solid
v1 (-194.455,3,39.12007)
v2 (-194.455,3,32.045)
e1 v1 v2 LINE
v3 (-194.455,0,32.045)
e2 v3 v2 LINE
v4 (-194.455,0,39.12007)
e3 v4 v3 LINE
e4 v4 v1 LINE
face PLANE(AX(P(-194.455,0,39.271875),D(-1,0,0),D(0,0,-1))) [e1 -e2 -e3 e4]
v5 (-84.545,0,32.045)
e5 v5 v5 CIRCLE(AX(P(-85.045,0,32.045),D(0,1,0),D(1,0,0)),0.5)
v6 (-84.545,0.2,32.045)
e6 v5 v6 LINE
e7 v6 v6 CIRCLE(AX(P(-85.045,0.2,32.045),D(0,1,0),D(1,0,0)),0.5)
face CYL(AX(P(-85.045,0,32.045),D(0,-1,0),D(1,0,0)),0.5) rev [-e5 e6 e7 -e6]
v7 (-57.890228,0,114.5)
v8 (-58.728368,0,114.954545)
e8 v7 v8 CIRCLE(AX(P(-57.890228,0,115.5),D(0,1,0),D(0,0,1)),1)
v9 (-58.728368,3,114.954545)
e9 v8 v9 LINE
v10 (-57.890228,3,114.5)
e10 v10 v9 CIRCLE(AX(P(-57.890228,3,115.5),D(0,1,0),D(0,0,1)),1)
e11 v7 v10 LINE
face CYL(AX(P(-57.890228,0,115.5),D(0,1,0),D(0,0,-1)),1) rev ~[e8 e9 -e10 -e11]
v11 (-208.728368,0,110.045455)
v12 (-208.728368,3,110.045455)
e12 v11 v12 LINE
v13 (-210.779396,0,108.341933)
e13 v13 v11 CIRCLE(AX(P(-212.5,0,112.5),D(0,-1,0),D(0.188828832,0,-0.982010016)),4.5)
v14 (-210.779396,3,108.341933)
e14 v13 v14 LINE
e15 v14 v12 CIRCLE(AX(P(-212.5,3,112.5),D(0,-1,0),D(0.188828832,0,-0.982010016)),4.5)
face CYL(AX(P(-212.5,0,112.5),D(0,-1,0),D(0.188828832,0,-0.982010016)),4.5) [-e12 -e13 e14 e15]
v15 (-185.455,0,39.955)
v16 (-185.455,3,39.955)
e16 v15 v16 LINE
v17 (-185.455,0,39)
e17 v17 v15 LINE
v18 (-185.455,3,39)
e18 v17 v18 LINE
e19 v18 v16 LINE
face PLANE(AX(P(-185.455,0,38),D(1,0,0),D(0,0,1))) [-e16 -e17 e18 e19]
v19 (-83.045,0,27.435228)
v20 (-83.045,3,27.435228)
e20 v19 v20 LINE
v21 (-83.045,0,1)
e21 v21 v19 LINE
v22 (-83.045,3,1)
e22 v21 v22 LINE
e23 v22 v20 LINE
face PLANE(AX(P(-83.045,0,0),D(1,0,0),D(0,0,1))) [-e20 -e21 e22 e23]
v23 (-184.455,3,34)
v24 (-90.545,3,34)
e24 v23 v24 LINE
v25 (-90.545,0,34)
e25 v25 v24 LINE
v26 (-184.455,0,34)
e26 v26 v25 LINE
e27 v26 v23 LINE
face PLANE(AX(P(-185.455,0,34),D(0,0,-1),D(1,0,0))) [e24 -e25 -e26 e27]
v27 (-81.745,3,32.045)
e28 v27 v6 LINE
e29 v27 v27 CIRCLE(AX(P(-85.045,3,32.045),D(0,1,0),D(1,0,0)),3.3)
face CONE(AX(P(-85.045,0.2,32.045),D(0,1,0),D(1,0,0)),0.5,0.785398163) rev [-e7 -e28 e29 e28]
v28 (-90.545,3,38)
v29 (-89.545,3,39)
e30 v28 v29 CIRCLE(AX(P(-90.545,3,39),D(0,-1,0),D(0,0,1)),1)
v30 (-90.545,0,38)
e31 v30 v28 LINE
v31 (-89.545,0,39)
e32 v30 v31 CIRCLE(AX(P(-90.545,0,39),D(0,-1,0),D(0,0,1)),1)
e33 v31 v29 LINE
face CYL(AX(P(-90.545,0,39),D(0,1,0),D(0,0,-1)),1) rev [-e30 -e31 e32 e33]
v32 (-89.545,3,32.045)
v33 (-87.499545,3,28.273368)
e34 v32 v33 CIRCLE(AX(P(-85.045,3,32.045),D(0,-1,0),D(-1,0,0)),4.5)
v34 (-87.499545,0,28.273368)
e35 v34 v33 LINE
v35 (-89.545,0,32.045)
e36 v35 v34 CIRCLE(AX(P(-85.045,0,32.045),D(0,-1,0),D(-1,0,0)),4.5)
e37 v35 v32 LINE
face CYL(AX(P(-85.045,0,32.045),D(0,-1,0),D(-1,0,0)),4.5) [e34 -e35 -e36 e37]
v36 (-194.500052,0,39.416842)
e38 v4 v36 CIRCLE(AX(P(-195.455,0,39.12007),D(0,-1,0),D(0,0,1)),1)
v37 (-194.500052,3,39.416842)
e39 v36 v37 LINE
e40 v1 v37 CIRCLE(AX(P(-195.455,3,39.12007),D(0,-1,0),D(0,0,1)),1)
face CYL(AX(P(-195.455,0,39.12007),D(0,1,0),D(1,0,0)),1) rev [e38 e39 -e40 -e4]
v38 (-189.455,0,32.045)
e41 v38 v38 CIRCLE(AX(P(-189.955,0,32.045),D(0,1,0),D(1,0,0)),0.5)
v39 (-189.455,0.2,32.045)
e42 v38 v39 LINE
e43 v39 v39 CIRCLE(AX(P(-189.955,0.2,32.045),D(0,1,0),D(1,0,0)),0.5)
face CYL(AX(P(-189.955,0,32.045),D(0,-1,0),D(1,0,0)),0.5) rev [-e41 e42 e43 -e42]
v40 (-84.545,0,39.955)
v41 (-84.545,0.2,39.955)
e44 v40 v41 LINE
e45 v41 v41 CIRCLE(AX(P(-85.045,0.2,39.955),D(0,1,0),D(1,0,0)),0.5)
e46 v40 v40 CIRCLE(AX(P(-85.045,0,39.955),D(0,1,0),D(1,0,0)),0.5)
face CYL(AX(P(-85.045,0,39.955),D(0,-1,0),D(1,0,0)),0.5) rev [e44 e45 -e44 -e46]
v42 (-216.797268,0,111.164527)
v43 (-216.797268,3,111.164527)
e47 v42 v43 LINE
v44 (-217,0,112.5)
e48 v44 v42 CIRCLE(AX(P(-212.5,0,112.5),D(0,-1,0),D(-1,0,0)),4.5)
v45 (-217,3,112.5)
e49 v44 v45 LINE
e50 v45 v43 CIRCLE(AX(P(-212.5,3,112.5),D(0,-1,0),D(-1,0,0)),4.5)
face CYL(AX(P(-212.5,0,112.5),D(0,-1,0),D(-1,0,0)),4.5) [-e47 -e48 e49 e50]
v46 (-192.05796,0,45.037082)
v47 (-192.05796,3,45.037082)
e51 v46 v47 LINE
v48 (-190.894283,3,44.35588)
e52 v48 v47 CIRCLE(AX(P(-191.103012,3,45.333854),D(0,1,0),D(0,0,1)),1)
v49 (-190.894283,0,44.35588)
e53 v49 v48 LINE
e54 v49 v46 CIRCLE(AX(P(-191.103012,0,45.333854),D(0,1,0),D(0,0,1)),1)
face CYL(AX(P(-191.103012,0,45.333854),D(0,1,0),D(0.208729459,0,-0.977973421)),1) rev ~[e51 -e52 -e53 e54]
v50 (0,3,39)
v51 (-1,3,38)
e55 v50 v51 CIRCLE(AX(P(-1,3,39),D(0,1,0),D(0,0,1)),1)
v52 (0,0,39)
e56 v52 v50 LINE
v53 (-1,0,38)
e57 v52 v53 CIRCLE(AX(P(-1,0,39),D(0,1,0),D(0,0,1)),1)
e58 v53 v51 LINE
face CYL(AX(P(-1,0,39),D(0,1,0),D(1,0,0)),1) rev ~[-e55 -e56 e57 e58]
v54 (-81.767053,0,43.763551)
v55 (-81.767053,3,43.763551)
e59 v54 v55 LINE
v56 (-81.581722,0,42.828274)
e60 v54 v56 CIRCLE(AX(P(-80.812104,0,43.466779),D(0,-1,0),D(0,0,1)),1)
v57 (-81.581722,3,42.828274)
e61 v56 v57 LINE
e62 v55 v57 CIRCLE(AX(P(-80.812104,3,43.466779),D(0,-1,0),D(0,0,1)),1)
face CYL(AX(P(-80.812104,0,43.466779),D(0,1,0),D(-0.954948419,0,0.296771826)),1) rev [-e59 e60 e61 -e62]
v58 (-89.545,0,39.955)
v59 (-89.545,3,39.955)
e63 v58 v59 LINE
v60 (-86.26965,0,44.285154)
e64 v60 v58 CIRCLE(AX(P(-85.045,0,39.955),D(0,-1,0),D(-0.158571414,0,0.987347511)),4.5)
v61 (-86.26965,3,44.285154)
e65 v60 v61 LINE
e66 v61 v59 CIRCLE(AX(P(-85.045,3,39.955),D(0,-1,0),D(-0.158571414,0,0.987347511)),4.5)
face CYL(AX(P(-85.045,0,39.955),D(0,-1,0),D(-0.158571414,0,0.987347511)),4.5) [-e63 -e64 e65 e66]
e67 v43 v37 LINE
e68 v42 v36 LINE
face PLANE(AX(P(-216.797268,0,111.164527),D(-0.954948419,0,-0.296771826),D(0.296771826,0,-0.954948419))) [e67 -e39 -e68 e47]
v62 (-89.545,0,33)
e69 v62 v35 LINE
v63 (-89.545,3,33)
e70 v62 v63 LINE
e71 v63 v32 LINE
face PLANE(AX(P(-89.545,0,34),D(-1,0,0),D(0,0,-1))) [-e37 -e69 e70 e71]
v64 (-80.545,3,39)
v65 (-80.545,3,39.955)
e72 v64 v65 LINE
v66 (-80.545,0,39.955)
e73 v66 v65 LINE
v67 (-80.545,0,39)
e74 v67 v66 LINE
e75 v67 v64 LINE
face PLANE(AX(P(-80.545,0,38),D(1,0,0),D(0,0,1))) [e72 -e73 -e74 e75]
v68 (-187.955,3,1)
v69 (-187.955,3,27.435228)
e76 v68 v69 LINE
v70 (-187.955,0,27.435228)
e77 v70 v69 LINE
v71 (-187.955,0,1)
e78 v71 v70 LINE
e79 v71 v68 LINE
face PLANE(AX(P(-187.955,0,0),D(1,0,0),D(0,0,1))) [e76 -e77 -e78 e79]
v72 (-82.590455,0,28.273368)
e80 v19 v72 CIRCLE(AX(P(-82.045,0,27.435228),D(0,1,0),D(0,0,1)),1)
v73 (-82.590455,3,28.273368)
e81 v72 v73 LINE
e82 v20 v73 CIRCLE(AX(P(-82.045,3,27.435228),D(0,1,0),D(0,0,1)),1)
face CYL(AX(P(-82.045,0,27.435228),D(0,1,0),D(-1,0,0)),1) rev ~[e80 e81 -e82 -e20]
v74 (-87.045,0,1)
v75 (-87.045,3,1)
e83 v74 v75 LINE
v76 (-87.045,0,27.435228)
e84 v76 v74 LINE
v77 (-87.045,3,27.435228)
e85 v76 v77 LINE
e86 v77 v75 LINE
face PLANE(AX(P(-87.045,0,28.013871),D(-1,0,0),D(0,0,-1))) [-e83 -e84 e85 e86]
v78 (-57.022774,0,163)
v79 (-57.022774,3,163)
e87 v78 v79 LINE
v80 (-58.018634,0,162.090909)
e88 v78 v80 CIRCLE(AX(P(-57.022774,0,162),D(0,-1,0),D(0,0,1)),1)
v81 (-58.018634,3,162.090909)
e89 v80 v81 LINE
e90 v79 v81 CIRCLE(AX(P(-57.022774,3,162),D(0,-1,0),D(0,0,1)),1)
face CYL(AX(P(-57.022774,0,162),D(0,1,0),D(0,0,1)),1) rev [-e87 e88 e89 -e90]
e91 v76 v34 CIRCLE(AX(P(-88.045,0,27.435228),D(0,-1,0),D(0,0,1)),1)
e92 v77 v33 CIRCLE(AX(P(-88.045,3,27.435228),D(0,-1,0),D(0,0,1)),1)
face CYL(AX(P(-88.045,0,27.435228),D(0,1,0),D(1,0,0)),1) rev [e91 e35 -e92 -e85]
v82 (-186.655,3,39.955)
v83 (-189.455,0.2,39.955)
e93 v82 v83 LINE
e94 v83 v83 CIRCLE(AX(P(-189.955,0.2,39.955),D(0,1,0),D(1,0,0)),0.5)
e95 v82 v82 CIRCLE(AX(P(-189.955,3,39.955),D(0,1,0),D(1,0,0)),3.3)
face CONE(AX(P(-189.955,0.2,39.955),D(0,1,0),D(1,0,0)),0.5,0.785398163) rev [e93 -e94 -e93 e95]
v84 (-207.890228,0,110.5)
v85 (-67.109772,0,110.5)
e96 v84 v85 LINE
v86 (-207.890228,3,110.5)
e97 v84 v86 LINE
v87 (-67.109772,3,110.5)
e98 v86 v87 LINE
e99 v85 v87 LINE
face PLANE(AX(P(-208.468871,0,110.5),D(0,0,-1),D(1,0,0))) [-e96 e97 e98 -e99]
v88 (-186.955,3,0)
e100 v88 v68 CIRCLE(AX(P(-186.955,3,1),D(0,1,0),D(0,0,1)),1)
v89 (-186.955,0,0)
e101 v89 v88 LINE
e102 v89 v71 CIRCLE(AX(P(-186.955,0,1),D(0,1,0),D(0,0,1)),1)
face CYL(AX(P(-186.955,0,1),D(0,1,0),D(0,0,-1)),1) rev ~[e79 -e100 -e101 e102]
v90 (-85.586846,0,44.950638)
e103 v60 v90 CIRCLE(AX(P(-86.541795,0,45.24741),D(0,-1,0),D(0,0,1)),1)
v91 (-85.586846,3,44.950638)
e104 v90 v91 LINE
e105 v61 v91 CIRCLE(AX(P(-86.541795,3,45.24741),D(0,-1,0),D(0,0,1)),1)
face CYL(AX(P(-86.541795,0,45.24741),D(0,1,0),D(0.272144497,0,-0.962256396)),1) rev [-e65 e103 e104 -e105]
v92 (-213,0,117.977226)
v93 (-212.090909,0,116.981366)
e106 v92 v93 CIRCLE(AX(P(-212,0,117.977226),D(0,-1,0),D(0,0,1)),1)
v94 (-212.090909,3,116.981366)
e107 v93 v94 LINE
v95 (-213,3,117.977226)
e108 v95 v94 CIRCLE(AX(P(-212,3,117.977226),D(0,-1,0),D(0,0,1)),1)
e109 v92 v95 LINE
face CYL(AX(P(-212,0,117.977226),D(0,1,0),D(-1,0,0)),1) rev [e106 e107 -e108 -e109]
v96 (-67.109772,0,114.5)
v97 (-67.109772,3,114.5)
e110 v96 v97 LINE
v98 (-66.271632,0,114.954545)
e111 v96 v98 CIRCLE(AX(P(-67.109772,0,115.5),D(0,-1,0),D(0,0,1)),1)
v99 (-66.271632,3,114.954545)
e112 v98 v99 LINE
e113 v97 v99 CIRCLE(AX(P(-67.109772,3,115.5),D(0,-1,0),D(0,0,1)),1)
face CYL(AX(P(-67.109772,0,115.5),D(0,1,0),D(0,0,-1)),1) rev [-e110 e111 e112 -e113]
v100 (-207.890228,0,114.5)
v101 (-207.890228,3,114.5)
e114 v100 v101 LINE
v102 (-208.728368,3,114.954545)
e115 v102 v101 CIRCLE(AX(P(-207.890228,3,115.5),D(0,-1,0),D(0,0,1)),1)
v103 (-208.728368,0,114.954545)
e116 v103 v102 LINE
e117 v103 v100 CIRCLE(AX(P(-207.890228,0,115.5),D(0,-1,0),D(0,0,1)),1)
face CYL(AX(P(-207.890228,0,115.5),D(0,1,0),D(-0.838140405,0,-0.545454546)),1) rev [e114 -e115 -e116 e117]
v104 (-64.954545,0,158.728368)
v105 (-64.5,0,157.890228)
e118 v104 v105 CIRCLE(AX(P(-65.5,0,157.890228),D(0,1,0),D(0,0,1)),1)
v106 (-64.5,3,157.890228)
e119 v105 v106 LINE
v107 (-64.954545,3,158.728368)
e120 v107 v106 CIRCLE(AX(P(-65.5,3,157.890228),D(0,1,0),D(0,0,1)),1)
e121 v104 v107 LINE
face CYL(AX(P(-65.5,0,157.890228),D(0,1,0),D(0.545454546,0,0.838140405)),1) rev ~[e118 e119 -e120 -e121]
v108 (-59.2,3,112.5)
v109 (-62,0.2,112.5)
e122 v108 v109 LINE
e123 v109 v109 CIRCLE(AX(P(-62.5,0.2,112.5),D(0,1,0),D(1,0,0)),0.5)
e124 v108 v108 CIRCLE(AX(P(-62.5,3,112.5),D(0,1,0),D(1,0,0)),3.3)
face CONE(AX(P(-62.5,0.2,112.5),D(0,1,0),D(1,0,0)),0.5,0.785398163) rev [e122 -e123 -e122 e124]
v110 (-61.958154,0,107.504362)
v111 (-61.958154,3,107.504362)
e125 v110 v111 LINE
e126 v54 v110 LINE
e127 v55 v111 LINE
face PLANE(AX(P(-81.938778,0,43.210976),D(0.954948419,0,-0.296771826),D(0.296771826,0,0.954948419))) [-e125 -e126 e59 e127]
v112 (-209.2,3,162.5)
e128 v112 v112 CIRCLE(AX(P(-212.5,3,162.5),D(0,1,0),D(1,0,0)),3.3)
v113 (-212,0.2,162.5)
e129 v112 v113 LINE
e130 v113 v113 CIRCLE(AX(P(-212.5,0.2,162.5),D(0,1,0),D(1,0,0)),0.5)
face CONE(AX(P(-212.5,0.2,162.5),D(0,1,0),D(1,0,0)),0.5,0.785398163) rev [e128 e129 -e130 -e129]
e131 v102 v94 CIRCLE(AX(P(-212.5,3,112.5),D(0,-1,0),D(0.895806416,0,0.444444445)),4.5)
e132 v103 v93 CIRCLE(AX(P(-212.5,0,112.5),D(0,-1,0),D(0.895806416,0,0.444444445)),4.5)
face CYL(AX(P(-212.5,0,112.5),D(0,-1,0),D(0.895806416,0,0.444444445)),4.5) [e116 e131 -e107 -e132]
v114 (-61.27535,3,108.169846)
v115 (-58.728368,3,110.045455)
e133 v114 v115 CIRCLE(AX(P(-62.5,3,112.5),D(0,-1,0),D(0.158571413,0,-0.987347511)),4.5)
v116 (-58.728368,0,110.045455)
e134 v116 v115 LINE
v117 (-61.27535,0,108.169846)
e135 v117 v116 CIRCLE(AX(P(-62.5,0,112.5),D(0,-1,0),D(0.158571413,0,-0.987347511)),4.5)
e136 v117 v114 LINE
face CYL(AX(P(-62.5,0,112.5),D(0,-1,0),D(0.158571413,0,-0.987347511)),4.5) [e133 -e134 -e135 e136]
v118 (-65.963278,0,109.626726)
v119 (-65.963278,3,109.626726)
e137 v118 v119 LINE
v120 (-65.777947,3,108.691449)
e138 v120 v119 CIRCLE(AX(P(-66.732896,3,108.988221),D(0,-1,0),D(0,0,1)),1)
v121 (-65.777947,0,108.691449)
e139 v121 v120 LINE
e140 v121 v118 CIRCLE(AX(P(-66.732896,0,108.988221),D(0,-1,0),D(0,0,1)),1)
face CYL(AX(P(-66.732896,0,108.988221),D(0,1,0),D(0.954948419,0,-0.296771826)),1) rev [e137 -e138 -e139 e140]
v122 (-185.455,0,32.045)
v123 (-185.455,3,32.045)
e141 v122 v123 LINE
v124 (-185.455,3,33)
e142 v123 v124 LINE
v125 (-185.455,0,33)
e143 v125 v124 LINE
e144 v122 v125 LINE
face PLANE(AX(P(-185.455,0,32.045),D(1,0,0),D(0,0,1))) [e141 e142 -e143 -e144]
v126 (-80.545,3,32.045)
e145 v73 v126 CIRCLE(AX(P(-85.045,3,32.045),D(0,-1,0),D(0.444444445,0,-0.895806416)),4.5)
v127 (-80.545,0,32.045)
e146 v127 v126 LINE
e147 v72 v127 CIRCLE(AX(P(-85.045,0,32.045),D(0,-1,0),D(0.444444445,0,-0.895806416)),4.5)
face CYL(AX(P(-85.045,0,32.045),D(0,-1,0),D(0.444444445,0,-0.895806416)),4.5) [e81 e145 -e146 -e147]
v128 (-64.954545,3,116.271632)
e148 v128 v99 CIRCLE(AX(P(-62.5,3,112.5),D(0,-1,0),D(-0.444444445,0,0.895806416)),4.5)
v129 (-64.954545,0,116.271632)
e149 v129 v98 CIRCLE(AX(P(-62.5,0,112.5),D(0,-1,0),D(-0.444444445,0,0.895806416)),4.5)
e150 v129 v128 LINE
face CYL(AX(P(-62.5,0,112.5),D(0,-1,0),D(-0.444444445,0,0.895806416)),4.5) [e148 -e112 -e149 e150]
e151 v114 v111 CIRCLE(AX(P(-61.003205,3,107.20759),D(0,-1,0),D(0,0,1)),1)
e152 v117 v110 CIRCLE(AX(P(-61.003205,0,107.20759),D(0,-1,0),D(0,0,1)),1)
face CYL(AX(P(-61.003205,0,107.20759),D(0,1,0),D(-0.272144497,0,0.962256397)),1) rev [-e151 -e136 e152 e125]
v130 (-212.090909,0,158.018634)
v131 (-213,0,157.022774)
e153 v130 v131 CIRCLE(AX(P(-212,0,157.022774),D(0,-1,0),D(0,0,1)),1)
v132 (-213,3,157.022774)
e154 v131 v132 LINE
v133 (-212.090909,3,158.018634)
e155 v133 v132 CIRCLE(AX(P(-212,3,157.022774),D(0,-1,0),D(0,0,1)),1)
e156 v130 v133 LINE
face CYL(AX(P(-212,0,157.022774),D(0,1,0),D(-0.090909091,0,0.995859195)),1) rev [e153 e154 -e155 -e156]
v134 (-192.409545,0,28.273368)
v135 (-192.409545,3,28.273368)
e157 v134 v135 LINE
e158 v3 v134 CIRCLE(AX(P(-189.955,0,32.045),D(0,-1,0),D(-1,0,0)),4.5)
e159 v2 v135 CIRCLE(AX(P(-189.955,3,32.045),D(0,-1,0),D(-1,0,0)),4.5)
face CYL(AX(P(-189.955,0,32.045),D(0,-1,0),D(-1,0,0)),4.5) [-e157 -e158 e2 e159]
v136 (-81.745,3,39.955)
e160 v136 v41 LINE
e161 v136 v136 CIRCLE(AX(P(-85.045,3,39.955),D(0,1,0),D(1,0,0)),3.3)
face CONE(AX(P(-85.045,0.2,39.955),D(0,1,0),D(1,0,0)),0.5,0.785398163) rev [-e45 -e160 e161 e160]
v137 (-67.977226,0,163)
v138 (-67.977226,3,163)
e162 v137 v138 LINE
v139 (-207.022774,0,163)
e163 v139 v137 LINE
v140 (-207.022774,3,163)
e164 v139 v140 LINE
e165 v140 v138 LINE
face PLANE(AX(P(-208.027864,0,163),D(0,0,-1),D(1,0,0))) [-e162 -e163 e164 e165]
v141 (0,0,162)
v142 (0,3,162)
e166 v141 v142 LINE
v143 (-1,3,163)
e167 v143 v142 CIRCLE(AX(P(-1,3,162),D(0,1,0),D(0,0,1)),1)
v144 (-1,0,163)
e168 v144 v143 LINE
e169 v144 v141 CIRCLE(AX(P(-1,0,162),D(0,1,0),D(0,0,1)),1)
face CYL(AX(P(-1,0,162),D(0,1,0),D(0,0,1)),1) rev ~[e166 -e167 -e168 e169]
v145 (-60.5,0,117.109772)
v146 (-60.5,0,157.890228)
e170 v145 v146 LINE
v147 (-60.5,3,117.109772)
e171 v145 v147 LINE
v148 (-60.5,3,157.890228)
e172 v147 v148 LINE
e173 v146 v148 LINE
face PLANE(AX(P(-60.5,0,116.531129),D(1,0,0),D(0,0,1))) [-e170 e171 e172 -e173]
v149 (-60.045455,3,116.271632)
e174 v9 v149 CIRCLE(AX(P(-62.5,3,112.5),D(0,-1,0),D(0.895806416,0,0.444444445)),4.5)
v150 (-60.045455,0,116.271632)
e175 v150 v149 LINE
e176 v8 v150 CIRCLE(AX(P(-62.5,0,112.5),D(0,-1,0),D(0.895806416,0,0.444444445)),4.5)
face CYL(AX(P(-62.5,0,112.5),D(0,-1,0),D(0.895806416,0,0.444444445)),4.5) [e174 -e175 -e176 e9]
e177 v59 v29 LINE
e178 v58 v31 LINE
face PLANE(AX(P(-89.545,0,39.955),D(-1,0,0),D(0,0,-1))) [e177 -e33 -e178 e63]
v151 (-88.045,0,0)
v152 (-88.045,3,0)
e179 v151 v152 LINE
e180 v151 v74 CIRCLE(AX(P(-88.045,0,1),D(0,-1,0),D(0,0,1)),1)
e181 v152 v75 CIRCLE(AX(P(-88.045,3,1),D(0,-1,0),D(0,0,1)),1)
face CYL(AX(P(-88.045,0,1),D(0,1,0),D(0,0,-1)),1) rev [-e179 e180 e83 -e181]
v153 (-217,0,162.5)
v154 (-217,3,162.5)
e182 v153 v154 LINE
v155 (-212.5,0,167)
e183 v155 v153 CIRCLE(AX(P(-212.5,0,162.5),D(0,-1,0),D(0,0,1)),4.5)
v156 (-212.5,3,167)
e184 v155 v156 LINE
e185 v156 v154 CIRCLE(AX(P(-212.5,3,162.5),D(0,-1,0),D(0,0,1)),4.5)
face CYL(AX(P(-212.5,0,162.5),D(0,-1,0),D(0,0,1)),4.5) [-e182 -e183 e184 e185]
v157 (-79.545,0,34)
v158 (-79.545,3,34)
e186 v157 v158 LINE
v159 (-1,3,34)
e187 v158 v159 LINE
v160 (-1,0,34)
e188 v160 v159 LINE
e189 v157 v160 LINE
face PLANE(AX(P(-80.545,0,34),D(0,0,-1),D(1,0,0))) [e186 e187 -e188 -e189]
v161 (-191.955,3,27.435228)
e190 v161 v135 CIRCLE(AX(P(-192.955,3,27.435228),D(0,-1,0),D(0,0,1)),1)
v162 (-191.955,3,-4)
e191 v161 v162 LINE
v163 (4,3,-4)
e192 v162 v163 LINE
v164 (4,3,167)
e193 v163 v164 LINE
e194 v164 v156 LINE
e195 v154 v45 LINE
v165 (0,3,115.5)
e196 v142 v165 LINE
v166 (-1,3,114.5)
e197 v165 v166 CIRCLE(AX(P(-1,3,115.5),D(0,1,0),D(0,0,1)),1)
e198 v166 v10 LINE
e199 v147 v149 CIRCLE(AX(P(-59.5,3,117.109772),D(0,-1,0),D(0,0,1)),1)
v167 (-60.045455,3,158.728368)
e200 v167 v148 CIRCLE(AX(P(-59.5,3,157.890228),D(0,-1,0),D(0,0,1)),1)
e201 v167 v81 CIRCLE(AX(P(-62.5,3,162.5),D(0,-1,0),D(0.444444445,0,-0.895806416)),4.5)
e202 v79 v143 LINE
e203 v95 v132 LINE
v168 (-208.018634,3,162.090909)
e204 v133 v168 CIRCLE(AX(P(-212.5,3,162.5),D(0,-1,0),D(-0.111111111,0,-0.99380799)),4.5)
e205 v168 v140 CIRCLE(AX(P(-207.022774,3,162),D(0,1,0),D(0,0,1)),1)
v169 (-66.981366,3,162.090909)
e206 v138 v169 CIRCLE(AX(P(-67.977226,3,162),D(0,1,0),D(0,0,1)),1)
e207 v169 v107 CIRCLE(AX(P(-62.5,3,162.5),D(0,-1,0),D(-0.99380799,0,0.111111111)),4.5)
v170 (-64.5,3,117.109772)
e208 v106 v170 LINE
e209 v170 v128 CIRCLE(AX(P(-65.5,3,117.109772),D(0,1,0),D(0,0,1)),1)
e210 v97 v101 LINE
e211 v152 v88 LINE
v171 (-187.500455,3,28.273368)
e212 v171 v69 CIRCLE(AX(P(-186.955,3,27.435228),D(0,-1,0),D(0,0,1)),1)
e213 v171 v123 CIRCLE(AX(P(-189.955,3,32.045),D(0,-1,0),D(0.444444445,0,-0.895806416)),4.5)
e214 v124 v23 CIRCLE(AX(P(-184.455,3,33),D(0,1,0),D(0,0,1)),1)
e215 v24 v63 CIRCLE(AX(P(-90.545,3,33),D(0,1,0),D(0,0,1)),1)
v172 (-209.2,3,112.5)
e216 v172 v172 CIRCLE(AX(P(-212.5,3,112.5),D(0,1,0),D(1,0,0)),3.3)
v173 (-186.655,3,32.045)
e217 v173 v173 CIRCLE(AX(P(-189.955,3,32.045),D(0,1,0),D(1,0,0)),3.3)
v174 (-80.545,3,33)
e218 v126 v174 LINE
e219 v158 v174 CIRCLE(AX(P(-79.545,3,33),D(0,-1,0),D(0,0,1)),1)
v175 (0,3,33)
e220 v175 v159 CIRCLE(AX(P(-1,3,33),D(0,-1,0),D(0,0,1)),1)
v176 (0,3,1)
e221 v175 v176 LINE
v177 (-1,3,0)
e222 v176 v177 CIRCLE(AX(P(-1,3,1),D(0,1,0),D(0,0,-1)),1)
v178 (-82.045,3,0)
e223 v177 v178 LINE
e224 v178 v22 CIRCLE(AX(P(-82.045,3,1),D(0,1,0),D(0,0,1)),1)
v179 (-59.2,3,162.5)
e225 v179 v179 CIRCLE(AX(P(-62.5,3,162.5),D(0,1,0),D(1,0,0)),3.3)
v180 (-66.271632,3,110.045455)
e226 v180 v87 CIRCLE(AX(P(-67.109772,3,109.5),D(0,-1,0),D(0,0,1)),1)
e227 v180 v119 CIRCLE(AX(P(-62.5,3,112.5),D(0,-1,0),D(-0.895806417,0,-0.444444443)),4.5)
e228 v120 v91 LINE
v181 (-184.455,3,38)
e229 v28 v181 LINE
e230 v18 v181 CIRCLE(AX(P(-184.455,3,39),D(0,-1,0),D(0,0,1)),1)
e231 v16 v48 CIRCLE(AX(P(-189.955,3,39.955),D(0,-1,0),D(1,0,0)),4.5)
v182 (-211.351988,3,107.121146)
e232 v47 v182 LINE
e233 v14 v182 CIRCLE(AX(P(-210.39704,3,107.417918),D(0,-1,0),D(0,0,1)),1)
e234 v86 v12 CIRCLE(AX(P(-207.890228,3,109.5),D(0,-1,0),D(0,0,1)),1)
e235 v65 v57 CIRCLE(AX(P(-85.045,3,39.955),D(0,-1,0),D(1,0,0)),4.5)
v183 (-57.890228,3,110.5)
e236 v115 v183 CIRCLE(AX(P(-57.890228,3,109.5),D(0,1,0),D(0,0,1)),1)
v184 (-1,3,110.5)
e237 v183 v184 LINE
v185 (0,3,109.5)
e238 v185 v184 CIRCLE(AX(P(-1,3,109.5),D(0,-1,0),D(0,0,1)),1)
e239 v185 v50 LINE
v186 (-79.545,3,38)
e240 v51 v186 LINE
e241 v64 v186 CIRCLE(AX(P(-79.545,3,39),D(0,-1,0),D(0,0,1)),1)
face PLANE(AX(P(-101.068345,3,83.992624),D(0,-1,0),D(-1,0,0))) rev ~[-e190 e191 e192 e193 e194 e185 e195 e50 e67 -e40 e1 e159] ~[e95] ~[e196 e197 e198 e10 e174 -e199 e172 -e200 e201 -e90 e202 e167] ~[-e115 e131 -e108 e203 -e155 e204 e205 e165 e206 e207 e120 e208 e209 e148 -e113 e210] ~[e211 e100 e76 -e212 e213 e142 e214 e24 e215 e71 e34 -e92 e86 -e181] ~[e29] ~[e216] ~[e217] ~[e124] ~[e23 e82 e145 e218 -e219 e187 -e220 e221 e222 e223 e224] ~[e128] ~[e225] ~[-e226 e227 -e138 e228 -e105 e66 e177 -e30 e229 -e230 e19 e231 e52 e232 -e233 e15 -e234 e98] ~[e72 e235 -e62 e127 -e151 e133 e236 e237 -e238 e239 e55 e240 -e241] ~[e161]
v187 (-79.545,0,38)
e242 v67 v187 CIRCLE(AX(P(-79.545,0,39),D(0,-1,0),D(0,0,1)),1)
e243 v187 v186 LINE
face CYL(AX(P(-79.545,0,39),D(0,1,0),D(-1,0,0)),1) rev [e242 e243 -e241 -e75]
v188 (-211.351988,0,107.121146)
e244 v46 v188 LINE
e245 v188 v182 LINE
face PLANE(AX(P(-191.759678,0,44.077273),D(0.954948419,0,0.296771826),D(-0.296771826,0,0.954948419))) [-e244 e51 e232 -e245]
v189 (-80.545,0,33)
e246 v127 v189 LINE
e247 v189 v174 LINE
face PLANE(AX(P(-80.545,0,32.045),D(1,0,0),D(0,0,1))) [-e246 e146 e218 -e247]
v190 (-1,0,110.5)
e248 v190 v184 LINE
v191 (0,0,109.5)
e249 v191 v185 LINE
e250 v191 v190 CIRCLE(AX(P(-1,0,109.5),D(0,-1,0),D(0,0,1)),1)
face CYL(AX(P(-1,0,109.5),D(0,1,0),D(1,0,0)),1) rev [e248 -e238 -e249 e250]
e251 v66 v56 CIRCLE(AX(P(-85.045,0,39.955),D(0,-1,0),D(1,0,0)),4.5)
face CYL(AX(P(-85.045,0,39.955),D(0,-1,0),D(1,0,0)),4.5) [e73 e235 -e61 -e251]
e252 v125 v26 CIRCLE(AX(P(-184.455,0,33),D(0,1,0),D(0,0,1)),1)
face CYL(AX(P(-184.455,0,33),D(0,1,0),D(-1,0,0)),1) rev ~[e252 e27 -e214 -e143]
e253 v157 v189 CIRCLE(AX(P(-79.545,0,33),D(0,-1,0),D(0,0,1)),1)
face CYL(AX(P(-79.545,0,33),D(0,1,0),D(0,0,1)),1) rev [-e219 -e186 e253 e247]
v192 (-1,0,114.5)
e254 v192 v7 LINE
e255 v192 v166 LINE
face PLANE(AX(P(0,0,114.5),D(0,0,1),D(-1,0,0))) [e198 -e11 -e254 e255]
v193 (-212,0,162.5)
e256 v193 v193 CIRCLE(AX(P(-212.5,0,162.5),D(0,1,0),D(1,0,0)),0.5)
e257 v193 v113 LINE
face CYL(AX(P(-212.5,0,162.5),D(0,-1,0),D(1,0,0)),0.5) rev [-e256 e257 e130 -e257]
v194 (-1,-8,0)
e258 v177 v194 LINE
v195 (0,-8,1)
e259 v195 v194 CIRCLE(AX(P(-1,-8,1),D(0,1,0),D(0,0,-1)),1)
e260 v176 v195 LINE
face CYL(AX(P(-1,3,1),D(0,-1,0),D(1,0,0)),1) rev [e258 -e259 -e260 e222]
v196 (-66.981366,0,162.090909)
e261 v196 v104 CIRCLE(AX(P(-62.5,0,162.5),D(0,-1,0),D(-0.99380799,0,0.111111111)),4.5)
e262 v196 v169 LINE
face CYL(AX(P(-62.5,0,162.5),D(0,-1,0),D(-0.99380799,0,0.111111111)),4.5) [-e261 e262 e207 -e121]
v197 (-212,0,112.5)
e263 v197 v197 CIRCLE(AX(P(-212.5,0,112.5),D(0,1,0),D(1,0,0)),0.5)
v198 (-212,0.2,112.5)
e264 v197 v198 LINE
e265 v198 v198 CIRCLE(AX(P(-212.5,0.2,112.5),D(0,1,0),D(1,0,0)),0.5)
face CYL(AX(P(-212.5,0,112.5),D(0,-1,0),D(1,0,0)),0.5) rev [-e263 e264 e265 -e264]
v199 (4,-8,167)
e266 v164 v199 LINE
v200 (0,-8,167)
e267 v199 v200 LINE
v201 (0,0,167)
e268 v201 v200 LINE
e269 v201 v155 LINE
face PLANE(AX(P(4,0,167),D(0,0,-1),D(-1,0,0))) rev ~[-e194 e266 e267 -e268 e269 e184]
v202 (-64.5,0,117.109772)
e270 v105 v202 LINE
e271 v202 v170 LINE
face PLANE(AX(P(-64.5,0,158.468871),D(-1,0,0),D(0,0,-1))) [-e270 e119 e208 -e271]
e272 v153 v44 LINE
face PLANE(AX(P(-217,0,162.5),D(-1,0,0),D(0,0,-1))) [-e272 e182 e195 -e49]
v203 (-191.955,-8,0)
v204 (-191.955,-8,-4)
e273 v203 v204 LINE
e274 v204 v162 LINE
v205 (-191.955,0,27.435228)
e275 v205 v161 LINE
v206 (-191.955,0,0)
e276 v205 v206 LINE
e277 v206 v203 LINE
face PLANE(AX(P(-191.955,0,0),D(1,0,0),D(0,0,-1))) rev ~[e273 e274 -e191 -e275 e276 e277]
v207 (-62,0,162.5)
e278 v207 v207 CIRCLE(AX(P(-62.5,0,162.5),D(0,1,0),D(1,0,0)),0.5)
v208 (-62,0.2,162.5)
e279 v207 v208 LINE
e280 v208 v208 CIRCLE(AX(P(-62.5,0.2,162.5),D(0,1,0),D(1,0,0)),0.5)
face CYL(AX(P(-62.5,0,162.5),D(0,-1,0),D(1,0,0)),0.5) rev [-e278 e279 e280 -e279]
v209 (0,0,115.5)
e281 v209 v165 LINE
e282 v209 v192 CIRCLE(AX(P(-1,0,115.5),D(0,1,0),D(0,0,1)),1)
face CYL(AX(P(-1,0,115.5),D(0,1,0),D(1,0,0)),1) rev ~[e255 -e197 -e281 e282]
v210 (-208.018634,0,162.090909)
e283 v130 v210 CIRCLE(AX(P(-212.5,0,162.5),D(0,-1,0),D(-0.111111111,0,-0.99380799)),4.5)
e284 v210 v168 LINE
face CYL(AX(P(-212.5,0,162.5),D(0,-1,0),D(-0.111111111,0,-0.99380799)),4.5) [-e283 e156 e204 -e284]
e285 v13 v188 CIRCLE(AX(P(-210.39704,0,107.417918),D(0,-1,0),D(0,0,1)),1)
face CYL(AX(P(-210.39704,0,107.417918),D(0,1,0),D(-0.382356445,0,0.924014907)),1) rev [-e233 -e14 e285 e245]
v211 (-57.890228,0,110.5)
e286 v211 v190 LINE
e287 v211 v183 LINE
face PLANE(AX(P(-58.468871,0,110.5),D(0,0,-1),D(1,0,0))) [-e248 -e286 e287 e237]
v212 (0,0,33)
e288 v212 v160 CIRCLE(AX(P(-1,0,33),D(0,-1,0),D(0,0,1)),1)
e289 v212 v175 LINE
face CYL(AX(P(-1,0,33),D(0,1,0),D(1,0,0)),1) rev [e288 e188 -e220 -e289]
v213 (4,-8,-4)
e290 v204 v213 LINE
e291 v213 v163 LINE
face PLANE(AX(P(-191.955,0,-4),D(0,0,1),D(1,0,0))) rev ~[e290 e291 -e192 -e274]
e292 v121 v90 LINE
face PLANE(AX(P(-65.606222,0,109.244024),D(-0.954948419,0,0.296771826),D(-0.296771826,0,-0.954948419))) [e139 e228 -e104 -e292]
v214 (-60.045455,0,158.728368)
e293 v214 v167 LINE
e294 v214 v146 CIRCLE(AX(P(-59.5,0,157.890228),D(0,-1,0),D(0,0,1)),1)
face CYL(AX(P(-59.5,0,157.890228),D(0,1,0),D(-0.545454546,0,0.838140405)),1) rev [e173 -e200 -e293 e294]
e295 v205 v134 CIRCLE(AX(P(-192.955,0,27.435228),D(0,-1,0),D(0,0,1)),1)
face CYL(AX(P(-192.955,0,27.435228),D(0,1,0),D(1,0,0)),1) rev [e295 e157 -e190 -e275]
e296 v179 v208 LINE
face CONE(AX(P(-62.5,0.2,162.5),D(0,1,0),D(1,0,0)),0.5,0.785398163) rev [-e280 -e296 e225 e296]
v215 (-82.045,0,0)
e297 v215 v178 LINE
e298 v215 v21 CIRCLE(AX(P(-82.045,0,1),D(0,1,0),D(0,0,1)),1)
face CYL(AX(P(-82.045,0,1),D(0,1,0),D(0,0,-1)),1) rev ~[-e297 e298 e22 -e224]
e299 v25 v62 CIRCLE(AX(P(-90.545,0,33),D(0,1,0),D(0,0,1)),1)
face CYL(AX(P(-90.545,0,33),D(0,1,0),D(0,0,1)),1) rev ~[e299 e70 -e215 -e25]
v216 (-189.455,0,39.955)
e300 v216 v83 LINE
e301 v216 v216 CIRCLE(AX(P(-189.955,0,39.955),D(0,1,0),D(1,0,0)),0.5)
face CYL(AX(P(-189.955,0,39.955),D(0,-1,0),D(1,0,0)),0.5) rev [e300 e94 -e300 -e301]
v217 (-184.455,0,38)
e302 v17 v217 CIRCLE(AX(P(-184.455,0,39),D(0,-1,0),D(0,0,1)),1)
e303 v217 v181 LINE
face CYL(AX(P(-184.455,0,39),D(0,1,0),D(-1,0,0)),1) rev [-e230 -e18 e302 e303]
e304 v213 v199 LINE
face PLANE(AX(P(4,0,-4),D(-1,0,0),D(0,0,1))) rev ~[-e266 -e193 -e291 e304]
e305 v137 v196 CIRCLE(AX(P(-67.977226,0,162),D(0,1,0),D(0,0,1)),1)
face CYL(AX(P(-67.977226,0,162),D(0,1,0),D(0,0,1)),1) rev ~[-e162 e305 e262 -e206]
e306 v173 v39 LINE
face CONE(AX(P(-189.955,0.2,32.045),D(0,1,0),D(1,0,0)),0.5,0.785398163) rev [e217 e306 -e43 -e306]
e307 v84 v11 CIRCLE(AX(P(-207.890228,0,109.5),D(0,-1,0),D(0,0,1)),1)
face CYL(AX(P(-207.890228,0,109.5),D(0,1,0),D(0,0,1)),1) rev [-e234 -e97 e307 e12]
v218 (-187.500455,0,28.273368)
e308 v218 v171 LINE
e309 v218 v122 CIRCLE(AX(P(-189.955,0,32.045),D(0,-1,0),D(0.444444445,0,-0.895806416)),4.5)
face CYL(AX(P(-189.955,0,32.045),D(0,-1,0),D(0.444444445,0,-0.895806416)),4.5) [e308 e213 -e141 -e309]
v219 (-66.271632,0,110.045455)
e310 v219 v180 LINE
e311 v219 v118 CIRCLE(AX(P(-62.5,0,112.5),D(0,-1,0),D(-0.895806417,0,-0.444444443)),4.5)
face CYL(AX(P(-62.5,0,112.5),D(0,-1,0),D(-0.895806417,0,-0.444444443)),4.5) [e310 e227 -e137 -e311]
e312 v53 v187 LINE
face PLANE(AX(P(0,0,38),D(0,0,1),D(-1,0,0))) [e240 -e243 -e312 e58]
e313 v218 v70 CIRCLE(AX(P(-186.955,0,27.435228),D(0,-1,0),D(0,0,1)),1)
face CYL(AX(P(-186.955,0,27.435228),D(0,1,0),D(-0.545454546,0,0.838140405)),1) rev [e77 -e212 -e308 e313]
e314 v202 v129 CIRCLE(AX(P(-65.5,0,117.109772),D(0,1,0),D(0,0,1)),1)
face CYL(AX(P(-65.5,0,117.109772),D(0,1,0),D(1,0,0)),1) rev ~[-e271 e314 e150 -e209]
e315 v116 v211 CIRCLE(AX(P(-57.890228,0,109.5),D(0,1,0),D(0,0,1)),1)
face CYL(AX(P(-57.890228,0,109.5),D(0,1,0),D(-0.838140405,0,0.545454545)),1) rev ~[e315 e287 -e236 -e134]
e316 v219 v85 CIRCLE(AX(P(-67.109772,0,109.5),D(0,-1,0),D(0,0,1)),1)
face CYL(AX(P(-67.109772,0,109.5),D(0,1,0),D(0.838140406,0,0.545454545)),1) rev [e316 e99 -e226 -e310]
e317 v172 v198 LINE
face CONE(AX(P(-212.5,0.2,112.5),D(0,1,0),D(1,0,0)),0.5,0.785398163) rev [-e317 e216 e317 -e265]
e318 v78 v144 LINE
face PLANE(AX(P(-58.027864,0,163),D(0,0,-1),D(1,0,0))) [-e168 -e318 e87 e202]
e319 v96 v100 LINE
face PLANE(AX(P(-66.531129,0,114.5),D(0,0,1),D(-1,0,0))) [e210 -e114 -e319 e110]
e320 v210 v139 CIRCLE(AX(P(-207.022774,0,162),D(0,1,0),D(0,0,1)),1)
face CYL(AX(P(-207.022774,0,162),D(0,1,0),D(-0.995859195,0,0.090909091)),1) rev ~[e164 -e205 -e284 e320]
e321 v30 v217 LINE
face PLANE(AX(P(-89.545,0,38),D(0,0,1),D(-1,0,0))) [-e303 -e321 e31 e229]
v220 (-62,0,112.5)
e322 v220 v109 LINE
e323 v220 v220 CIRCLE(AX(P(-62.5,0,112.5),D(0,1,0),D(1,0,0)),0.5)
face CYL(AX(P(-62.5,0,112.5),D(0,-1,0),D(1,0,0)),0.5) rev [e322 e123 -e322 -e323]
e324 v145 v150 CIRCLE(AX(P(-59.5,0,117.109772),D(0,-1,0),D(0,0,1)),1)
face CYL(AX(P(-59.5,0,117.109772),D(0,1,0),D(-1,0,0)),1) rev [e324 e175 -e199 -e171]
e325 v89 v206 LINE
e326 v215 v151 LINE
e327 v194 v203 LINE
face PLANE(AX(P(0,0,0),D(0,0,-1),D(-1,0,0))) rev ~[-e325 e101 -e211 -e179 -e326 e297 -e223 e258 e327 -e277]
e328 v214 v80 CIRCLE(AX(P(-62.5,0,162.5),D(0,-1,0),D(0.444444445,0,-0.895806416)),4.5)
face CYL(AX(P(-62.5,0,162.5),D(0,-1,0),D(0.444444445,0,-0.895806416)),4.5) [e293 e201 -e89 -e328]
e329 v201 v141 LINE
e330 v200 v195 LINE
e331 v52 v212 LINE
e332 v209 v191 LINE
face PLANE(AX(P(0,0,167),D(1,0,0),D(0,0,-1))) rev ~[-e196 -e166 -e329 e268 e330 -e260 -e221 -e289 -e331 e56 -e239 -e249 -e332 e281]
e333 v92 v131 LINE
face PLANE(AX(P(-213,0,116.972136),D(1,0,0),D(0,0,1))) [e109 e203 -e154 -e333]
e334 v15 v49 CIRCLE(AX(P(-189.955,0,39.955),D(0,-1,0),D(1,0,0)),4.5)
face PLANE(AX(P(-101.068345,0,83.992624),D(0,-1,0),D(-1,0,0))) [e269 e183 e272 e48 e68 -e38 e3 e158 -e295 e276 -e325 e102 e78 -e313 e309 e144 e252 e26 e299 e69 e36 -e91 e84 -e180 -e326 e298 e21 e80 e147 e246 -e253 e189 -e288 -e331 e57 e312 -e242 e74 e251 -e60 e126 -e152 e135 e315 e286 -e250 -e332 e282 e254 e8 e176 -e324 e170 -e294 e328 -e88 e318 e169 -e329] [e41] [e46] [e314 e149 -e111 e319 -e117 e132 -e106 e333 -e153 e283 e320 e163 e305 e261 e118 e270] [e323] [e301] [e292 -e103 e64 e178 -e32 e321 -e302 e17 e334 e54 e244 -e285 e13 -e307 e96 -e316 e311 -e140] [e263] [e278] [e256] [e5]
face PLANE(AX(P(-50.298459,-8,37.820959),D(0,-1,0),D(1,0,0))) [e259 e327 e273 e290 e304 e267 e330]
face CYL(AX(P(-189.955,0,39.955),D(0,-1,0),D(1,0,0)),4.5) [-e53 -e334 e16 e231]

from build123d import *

# Parameters (mm, degrees)
SKETCH1_R           = 0.5
BOSS_EXTRUDE1_DEPTH = 3
BOSS_EXTRUDE2_DEPTH = 8
CHAMFER1_SIZE       = 2.8
FILLET1_R           = 1


with BuildPart() as part:
    # Sketch1 → Boss-Extrude1 (new body)
    with BuildSketch(Plane(origin=(0, 0, 0), x_dir=(1, 0, 0), z_dir=(0, 1, 0))):
        with BuildLine():
            Line((-191.955, 0), (-191.955, 4))
            Line((-191.955, 4), (4, 4))
            Line((4, 4), (4, -167))
            Line((4, -167), (0, -167))
            Line((0, -167), (-212.5, -167))
            ThreePointArc((-212.5, -167), (-215.681980515, -165.681980515), (-217, -162.5))
            Line((-217, -162.5), (-217, -112.5))
            ThreePointArc((-217, -112.5), (-216.949028292, -111.824613255), (-216.797267886, -111.164526783))
            Line((-216.797267886, -111.164526783), (-194.455, -39.271875472))
            Line((-194.455, -39.271875472), (-194.455, -32.045))
            ThreePointArc((-194.455, -32.045), (-193.779264635, -29.673291755), (-191.955, -28.013871126))
            Line((-191.955, -28.013871126), (-191.955, 0))
        make_face()
        with Locations((-62.5, -162.5)):
            Circle(SKETCH1_R, mode=Mode.SUBTRACT)
        with Locations((-62.5, -112.5)):
            Circle(SKETCH1_R, mode=Mode.SUBTRACT)
        with Locations((-212.5, -112.5)):
            Circle(SKETCH1_R, mode=Mode.SUBTRACT)
        with Locations((-212.5, -162.5)):
            Circle(SKETCH1_R, mode=Mode.SUBTRACT)
        with Locations((-189.955, -32.045)):
            Circle(SKETCH1_R, mode=Mode.SUBTRACT)
        with Locations((-189.955, -39.955)):
            Circle(SKETCH1_R, mode=Mode.SUBTRACT)
        with Locations((-85.045, -32.045)):
            Circle(SKETCH1_R, mode=Mode.SUBTRACT)
        with Locations((-85.045, -39.955)):
            Circle(SKETCH1_R, mode=Mode.SUBTRACT)
        with BuildLine():
            Line((0, 0), (-83.045, 0))
            Line((-83.045, 0), (-83.045, -28.013871126))
            ThreePointArc((-83.045, -28.013871126), (-81.220735365, -29.673291755), (-80.545, -32.045))
            Line((-80.545, -32.045), (-80.545, -34))
            Line((-80.545, -34), (0, -34))
            Line((0, -34), (0, 0))
        make_face(mode=Mode.SUBTRACT)
        with BuildLine():
            Line((0, -163), (0, -114.5))
            Line((0, -114.5), (-58.468871126, -114.5))
            ThreePointArc((-58.468871126, -114.5), (-59.318019485, -115.681980515), (-60.5, -116.531128874))
            Line((-60.5, -116.531128874), (-60.5, -158.468871126))
            ThreePointArc((-60.5, -158.468871126), (-58.549693914, -160.344754811), (-58.027864045, -163))
            Line((-58.027864045, -163), (0, -163))
        make_face(mode=Mode.SUBTRACT)
        with BuildLine():
            Line((-185.455, -32.045), (-185.455, -34))
            Line((-185.455, -34), (-89.545, -34))
            Line((-89.545, -34), (-89.545, -32.045))
            ThreePointArc((-89.545, -32.045), (-88.869264635, -29.673291755), (-87.045, -28.013871126))
            Line((-87.045, -28.013871126), (-87.045, 0))
            Line((-87.045, 0), (-187.955, 0))
            Line((-187.955, 0), (-187.955, -28.013871126))
            ThreePointArc((-187.955, -28.013871126), (-186.130735365, -29.673291755), (-185.455, -32.045))
        make_face(mode=Mode.SUBTRACT)
        with BuildLine():
            Line((-58.468871126, -110.5), (0, -110.5))
            Line((0, -110.5), (0, -38))
            Line((0, -38), (-80.545, -38))
            Line((-80.545, -38), (-80.545, -39.955))
            ThreePointArc((-80.545, -39.955), (-80.908092918, -41.725875431), (-81.938777685, -43.210976494))
            Line((-81.938777685, -43.210976494), (-61.786428638, -108.056936202))
            ThreePointArc((-61.786428638, -108.056936202), (-59.831632472, -108.876491377), (-58.468871126, -110.5))
        make_face(mode=Mode.SUBTRACT)
        with BuildLine():
            Line((-208.027864045, -163), (-66.972135955, -163))
            ThreePointArc((-66.972135955, -163), (-66.450306086, -160.344754811), (-64.5, -158.468871126))
            Line((-64.5, -158.468871126), (-64.5, -116.531128874))
            ThreePointArc((-64.5, -116.531128874), (-65.681980515, -115.681980515), (-66.531128874, -114.5))
            Line((-66.531128874, -114.5), (-208.468871126, -114.5))
            ThreePointArc((-208.468871126, -114.5), (-210.344754811, -116.450306086), (-213, -116.972135955))
            Line((-213, -116.972135955), (-213, -158.027864045))
            ThreePointArc((-213, -158.027864045), (-209.318019485, -159.318019485), (-208.027864045, -163))
        make_face(mode=Mode.SUBTRACT)
        with BuildLine():
            Line((-191.759678163, -44.077273248), (-211.650270256, -108.080954926))
            ThreePointArc((-211.650270256, -108.080954926), (-209.776281957, -108.917911221), (-208.468871126, -110.5))
            Line((-208.468871126, -110.5), (-66.531128874, -110.5))
            ThreePointArc((-66.531128874, -110.5), (-66.123508623, -109.831632472), (-65.606222315, -109.244023506))
            Line((-65.606222315, -109.244023506), (-85.758571362, -44.398063798))
            ThreePointArc((-85.758571362, -44.398063798), (-88.469986944, -42.873812162), (-89.545, -39.955))
            Line((-89.545, -39.955), (-89.545, -38))
            Line((-89.545, -38), (-185.455, -38))
            Line((-185.455, -38), (-185.455, -39.955))
            ThreePointArc((-185.455, -39.955), (-187.492384696, -43.721367728), (-191.759678163, -44.077273248))
        make_face(mode=Mode.SUBTRACT)
    extrude(amount=BOSS_EXTRUDE1_DEPTH)

    # Sketch2 → Boss-Extrude2 (add)
    with BuildSketch(Plane.XZ):
        Polygon((4, -4), (4, 167), (0, 167), (0, 0), (-191.955, 0), (-191.955, -4), align=None)
    extrude(amount=BOSS_EXTRUDE2_DEPTH)

    # Chamfer1
    chamfer1_edges = [part.edges().sort_by_distance(p)[0] for p in [
        (-63, 3, 112.5),
        (-213, 3, 112.5),
        (-213, 3, 162.5),
        (-63, 3, 162.5),
        (-190.455, 3, 32.045),
        (-190.455, 3, 39.955),
        (-85.545, 3, 32.045),
        (-85.545, 3, 39.955),
    ]]
    chamfer(chamfer1_edges, length=CHAMFER1_SIZE)

    # Fillet1
    fillet1_edges = [part.edges().sort_by_distance(p)[0] for p in [
        (-89.545, 1.5, 34),
        (-87.045, 1.5, 28.013871126),
        (-87.045, 1.5, 0),
        (-187.955, 1.5, 0),
        (-191.759678163, 1.5, 44.077273248),
        (-211.650270256, 1.5, 108.080954926),
        (-208.468871126, 1.5, 110.5),
        (-66.531128874, 1.5, 110.5),
        (-65.606222315, 1.5, 109.244023506),
        (-85.758571362, 1.5, 44.398063798),
        (-89.545, 1.5, 38),
        (-185.455, 1.5, 38),
        (-81.938777685, 1.5, 43.210976494),
        (-61.786428638, 1.5, 108.056936202),
        (-58.468871126, 1.5, 110.5),
        (0, 1.5, 110.5),
        (0, 1.5, 38),
        (-80.545, 1.5, 38),
        (-194.455, 1.5, 39.271875472),
        (-191.955, 1.5, 28.013871126),
        (0, 1.5, 34),
        (0, -2.5, 0),
        (-83.045, 1.5, 0),
        (-83.045, 1.5, 28.013871126),
        (-80.545, 1.5, 34),
        (-66.972135955, 1.5, 163),
        (-64.5, 1.5, 158.468871126),
        (-64.5, 1.5, 116.531128874),
        (-66.531128874, 1.5, 114.5),
        (-208.468871126, 1.5, 114.5),
        (-213, 1.5, 116.972135955),
        (-213, 1.5, 158.027864045),
        (-208.027864045, 1.5, 163),
        (-60.5, 1.5, 158.468871126),
        (-58.027864045, 1.5, 163),
        (0, 1.5, 163),
        (0, 1.5, 114.5),
        (-58.468871126, 1.5, 114.5),
        (-60.5, 1.5, 116.531128874),
        (-187.955, 1.5, 28.013871126),
        (-185.455, 1.5, 34),
    ]]
    fillet(fillet1_edges, radius=FILLET1_R)


solid = part.part
